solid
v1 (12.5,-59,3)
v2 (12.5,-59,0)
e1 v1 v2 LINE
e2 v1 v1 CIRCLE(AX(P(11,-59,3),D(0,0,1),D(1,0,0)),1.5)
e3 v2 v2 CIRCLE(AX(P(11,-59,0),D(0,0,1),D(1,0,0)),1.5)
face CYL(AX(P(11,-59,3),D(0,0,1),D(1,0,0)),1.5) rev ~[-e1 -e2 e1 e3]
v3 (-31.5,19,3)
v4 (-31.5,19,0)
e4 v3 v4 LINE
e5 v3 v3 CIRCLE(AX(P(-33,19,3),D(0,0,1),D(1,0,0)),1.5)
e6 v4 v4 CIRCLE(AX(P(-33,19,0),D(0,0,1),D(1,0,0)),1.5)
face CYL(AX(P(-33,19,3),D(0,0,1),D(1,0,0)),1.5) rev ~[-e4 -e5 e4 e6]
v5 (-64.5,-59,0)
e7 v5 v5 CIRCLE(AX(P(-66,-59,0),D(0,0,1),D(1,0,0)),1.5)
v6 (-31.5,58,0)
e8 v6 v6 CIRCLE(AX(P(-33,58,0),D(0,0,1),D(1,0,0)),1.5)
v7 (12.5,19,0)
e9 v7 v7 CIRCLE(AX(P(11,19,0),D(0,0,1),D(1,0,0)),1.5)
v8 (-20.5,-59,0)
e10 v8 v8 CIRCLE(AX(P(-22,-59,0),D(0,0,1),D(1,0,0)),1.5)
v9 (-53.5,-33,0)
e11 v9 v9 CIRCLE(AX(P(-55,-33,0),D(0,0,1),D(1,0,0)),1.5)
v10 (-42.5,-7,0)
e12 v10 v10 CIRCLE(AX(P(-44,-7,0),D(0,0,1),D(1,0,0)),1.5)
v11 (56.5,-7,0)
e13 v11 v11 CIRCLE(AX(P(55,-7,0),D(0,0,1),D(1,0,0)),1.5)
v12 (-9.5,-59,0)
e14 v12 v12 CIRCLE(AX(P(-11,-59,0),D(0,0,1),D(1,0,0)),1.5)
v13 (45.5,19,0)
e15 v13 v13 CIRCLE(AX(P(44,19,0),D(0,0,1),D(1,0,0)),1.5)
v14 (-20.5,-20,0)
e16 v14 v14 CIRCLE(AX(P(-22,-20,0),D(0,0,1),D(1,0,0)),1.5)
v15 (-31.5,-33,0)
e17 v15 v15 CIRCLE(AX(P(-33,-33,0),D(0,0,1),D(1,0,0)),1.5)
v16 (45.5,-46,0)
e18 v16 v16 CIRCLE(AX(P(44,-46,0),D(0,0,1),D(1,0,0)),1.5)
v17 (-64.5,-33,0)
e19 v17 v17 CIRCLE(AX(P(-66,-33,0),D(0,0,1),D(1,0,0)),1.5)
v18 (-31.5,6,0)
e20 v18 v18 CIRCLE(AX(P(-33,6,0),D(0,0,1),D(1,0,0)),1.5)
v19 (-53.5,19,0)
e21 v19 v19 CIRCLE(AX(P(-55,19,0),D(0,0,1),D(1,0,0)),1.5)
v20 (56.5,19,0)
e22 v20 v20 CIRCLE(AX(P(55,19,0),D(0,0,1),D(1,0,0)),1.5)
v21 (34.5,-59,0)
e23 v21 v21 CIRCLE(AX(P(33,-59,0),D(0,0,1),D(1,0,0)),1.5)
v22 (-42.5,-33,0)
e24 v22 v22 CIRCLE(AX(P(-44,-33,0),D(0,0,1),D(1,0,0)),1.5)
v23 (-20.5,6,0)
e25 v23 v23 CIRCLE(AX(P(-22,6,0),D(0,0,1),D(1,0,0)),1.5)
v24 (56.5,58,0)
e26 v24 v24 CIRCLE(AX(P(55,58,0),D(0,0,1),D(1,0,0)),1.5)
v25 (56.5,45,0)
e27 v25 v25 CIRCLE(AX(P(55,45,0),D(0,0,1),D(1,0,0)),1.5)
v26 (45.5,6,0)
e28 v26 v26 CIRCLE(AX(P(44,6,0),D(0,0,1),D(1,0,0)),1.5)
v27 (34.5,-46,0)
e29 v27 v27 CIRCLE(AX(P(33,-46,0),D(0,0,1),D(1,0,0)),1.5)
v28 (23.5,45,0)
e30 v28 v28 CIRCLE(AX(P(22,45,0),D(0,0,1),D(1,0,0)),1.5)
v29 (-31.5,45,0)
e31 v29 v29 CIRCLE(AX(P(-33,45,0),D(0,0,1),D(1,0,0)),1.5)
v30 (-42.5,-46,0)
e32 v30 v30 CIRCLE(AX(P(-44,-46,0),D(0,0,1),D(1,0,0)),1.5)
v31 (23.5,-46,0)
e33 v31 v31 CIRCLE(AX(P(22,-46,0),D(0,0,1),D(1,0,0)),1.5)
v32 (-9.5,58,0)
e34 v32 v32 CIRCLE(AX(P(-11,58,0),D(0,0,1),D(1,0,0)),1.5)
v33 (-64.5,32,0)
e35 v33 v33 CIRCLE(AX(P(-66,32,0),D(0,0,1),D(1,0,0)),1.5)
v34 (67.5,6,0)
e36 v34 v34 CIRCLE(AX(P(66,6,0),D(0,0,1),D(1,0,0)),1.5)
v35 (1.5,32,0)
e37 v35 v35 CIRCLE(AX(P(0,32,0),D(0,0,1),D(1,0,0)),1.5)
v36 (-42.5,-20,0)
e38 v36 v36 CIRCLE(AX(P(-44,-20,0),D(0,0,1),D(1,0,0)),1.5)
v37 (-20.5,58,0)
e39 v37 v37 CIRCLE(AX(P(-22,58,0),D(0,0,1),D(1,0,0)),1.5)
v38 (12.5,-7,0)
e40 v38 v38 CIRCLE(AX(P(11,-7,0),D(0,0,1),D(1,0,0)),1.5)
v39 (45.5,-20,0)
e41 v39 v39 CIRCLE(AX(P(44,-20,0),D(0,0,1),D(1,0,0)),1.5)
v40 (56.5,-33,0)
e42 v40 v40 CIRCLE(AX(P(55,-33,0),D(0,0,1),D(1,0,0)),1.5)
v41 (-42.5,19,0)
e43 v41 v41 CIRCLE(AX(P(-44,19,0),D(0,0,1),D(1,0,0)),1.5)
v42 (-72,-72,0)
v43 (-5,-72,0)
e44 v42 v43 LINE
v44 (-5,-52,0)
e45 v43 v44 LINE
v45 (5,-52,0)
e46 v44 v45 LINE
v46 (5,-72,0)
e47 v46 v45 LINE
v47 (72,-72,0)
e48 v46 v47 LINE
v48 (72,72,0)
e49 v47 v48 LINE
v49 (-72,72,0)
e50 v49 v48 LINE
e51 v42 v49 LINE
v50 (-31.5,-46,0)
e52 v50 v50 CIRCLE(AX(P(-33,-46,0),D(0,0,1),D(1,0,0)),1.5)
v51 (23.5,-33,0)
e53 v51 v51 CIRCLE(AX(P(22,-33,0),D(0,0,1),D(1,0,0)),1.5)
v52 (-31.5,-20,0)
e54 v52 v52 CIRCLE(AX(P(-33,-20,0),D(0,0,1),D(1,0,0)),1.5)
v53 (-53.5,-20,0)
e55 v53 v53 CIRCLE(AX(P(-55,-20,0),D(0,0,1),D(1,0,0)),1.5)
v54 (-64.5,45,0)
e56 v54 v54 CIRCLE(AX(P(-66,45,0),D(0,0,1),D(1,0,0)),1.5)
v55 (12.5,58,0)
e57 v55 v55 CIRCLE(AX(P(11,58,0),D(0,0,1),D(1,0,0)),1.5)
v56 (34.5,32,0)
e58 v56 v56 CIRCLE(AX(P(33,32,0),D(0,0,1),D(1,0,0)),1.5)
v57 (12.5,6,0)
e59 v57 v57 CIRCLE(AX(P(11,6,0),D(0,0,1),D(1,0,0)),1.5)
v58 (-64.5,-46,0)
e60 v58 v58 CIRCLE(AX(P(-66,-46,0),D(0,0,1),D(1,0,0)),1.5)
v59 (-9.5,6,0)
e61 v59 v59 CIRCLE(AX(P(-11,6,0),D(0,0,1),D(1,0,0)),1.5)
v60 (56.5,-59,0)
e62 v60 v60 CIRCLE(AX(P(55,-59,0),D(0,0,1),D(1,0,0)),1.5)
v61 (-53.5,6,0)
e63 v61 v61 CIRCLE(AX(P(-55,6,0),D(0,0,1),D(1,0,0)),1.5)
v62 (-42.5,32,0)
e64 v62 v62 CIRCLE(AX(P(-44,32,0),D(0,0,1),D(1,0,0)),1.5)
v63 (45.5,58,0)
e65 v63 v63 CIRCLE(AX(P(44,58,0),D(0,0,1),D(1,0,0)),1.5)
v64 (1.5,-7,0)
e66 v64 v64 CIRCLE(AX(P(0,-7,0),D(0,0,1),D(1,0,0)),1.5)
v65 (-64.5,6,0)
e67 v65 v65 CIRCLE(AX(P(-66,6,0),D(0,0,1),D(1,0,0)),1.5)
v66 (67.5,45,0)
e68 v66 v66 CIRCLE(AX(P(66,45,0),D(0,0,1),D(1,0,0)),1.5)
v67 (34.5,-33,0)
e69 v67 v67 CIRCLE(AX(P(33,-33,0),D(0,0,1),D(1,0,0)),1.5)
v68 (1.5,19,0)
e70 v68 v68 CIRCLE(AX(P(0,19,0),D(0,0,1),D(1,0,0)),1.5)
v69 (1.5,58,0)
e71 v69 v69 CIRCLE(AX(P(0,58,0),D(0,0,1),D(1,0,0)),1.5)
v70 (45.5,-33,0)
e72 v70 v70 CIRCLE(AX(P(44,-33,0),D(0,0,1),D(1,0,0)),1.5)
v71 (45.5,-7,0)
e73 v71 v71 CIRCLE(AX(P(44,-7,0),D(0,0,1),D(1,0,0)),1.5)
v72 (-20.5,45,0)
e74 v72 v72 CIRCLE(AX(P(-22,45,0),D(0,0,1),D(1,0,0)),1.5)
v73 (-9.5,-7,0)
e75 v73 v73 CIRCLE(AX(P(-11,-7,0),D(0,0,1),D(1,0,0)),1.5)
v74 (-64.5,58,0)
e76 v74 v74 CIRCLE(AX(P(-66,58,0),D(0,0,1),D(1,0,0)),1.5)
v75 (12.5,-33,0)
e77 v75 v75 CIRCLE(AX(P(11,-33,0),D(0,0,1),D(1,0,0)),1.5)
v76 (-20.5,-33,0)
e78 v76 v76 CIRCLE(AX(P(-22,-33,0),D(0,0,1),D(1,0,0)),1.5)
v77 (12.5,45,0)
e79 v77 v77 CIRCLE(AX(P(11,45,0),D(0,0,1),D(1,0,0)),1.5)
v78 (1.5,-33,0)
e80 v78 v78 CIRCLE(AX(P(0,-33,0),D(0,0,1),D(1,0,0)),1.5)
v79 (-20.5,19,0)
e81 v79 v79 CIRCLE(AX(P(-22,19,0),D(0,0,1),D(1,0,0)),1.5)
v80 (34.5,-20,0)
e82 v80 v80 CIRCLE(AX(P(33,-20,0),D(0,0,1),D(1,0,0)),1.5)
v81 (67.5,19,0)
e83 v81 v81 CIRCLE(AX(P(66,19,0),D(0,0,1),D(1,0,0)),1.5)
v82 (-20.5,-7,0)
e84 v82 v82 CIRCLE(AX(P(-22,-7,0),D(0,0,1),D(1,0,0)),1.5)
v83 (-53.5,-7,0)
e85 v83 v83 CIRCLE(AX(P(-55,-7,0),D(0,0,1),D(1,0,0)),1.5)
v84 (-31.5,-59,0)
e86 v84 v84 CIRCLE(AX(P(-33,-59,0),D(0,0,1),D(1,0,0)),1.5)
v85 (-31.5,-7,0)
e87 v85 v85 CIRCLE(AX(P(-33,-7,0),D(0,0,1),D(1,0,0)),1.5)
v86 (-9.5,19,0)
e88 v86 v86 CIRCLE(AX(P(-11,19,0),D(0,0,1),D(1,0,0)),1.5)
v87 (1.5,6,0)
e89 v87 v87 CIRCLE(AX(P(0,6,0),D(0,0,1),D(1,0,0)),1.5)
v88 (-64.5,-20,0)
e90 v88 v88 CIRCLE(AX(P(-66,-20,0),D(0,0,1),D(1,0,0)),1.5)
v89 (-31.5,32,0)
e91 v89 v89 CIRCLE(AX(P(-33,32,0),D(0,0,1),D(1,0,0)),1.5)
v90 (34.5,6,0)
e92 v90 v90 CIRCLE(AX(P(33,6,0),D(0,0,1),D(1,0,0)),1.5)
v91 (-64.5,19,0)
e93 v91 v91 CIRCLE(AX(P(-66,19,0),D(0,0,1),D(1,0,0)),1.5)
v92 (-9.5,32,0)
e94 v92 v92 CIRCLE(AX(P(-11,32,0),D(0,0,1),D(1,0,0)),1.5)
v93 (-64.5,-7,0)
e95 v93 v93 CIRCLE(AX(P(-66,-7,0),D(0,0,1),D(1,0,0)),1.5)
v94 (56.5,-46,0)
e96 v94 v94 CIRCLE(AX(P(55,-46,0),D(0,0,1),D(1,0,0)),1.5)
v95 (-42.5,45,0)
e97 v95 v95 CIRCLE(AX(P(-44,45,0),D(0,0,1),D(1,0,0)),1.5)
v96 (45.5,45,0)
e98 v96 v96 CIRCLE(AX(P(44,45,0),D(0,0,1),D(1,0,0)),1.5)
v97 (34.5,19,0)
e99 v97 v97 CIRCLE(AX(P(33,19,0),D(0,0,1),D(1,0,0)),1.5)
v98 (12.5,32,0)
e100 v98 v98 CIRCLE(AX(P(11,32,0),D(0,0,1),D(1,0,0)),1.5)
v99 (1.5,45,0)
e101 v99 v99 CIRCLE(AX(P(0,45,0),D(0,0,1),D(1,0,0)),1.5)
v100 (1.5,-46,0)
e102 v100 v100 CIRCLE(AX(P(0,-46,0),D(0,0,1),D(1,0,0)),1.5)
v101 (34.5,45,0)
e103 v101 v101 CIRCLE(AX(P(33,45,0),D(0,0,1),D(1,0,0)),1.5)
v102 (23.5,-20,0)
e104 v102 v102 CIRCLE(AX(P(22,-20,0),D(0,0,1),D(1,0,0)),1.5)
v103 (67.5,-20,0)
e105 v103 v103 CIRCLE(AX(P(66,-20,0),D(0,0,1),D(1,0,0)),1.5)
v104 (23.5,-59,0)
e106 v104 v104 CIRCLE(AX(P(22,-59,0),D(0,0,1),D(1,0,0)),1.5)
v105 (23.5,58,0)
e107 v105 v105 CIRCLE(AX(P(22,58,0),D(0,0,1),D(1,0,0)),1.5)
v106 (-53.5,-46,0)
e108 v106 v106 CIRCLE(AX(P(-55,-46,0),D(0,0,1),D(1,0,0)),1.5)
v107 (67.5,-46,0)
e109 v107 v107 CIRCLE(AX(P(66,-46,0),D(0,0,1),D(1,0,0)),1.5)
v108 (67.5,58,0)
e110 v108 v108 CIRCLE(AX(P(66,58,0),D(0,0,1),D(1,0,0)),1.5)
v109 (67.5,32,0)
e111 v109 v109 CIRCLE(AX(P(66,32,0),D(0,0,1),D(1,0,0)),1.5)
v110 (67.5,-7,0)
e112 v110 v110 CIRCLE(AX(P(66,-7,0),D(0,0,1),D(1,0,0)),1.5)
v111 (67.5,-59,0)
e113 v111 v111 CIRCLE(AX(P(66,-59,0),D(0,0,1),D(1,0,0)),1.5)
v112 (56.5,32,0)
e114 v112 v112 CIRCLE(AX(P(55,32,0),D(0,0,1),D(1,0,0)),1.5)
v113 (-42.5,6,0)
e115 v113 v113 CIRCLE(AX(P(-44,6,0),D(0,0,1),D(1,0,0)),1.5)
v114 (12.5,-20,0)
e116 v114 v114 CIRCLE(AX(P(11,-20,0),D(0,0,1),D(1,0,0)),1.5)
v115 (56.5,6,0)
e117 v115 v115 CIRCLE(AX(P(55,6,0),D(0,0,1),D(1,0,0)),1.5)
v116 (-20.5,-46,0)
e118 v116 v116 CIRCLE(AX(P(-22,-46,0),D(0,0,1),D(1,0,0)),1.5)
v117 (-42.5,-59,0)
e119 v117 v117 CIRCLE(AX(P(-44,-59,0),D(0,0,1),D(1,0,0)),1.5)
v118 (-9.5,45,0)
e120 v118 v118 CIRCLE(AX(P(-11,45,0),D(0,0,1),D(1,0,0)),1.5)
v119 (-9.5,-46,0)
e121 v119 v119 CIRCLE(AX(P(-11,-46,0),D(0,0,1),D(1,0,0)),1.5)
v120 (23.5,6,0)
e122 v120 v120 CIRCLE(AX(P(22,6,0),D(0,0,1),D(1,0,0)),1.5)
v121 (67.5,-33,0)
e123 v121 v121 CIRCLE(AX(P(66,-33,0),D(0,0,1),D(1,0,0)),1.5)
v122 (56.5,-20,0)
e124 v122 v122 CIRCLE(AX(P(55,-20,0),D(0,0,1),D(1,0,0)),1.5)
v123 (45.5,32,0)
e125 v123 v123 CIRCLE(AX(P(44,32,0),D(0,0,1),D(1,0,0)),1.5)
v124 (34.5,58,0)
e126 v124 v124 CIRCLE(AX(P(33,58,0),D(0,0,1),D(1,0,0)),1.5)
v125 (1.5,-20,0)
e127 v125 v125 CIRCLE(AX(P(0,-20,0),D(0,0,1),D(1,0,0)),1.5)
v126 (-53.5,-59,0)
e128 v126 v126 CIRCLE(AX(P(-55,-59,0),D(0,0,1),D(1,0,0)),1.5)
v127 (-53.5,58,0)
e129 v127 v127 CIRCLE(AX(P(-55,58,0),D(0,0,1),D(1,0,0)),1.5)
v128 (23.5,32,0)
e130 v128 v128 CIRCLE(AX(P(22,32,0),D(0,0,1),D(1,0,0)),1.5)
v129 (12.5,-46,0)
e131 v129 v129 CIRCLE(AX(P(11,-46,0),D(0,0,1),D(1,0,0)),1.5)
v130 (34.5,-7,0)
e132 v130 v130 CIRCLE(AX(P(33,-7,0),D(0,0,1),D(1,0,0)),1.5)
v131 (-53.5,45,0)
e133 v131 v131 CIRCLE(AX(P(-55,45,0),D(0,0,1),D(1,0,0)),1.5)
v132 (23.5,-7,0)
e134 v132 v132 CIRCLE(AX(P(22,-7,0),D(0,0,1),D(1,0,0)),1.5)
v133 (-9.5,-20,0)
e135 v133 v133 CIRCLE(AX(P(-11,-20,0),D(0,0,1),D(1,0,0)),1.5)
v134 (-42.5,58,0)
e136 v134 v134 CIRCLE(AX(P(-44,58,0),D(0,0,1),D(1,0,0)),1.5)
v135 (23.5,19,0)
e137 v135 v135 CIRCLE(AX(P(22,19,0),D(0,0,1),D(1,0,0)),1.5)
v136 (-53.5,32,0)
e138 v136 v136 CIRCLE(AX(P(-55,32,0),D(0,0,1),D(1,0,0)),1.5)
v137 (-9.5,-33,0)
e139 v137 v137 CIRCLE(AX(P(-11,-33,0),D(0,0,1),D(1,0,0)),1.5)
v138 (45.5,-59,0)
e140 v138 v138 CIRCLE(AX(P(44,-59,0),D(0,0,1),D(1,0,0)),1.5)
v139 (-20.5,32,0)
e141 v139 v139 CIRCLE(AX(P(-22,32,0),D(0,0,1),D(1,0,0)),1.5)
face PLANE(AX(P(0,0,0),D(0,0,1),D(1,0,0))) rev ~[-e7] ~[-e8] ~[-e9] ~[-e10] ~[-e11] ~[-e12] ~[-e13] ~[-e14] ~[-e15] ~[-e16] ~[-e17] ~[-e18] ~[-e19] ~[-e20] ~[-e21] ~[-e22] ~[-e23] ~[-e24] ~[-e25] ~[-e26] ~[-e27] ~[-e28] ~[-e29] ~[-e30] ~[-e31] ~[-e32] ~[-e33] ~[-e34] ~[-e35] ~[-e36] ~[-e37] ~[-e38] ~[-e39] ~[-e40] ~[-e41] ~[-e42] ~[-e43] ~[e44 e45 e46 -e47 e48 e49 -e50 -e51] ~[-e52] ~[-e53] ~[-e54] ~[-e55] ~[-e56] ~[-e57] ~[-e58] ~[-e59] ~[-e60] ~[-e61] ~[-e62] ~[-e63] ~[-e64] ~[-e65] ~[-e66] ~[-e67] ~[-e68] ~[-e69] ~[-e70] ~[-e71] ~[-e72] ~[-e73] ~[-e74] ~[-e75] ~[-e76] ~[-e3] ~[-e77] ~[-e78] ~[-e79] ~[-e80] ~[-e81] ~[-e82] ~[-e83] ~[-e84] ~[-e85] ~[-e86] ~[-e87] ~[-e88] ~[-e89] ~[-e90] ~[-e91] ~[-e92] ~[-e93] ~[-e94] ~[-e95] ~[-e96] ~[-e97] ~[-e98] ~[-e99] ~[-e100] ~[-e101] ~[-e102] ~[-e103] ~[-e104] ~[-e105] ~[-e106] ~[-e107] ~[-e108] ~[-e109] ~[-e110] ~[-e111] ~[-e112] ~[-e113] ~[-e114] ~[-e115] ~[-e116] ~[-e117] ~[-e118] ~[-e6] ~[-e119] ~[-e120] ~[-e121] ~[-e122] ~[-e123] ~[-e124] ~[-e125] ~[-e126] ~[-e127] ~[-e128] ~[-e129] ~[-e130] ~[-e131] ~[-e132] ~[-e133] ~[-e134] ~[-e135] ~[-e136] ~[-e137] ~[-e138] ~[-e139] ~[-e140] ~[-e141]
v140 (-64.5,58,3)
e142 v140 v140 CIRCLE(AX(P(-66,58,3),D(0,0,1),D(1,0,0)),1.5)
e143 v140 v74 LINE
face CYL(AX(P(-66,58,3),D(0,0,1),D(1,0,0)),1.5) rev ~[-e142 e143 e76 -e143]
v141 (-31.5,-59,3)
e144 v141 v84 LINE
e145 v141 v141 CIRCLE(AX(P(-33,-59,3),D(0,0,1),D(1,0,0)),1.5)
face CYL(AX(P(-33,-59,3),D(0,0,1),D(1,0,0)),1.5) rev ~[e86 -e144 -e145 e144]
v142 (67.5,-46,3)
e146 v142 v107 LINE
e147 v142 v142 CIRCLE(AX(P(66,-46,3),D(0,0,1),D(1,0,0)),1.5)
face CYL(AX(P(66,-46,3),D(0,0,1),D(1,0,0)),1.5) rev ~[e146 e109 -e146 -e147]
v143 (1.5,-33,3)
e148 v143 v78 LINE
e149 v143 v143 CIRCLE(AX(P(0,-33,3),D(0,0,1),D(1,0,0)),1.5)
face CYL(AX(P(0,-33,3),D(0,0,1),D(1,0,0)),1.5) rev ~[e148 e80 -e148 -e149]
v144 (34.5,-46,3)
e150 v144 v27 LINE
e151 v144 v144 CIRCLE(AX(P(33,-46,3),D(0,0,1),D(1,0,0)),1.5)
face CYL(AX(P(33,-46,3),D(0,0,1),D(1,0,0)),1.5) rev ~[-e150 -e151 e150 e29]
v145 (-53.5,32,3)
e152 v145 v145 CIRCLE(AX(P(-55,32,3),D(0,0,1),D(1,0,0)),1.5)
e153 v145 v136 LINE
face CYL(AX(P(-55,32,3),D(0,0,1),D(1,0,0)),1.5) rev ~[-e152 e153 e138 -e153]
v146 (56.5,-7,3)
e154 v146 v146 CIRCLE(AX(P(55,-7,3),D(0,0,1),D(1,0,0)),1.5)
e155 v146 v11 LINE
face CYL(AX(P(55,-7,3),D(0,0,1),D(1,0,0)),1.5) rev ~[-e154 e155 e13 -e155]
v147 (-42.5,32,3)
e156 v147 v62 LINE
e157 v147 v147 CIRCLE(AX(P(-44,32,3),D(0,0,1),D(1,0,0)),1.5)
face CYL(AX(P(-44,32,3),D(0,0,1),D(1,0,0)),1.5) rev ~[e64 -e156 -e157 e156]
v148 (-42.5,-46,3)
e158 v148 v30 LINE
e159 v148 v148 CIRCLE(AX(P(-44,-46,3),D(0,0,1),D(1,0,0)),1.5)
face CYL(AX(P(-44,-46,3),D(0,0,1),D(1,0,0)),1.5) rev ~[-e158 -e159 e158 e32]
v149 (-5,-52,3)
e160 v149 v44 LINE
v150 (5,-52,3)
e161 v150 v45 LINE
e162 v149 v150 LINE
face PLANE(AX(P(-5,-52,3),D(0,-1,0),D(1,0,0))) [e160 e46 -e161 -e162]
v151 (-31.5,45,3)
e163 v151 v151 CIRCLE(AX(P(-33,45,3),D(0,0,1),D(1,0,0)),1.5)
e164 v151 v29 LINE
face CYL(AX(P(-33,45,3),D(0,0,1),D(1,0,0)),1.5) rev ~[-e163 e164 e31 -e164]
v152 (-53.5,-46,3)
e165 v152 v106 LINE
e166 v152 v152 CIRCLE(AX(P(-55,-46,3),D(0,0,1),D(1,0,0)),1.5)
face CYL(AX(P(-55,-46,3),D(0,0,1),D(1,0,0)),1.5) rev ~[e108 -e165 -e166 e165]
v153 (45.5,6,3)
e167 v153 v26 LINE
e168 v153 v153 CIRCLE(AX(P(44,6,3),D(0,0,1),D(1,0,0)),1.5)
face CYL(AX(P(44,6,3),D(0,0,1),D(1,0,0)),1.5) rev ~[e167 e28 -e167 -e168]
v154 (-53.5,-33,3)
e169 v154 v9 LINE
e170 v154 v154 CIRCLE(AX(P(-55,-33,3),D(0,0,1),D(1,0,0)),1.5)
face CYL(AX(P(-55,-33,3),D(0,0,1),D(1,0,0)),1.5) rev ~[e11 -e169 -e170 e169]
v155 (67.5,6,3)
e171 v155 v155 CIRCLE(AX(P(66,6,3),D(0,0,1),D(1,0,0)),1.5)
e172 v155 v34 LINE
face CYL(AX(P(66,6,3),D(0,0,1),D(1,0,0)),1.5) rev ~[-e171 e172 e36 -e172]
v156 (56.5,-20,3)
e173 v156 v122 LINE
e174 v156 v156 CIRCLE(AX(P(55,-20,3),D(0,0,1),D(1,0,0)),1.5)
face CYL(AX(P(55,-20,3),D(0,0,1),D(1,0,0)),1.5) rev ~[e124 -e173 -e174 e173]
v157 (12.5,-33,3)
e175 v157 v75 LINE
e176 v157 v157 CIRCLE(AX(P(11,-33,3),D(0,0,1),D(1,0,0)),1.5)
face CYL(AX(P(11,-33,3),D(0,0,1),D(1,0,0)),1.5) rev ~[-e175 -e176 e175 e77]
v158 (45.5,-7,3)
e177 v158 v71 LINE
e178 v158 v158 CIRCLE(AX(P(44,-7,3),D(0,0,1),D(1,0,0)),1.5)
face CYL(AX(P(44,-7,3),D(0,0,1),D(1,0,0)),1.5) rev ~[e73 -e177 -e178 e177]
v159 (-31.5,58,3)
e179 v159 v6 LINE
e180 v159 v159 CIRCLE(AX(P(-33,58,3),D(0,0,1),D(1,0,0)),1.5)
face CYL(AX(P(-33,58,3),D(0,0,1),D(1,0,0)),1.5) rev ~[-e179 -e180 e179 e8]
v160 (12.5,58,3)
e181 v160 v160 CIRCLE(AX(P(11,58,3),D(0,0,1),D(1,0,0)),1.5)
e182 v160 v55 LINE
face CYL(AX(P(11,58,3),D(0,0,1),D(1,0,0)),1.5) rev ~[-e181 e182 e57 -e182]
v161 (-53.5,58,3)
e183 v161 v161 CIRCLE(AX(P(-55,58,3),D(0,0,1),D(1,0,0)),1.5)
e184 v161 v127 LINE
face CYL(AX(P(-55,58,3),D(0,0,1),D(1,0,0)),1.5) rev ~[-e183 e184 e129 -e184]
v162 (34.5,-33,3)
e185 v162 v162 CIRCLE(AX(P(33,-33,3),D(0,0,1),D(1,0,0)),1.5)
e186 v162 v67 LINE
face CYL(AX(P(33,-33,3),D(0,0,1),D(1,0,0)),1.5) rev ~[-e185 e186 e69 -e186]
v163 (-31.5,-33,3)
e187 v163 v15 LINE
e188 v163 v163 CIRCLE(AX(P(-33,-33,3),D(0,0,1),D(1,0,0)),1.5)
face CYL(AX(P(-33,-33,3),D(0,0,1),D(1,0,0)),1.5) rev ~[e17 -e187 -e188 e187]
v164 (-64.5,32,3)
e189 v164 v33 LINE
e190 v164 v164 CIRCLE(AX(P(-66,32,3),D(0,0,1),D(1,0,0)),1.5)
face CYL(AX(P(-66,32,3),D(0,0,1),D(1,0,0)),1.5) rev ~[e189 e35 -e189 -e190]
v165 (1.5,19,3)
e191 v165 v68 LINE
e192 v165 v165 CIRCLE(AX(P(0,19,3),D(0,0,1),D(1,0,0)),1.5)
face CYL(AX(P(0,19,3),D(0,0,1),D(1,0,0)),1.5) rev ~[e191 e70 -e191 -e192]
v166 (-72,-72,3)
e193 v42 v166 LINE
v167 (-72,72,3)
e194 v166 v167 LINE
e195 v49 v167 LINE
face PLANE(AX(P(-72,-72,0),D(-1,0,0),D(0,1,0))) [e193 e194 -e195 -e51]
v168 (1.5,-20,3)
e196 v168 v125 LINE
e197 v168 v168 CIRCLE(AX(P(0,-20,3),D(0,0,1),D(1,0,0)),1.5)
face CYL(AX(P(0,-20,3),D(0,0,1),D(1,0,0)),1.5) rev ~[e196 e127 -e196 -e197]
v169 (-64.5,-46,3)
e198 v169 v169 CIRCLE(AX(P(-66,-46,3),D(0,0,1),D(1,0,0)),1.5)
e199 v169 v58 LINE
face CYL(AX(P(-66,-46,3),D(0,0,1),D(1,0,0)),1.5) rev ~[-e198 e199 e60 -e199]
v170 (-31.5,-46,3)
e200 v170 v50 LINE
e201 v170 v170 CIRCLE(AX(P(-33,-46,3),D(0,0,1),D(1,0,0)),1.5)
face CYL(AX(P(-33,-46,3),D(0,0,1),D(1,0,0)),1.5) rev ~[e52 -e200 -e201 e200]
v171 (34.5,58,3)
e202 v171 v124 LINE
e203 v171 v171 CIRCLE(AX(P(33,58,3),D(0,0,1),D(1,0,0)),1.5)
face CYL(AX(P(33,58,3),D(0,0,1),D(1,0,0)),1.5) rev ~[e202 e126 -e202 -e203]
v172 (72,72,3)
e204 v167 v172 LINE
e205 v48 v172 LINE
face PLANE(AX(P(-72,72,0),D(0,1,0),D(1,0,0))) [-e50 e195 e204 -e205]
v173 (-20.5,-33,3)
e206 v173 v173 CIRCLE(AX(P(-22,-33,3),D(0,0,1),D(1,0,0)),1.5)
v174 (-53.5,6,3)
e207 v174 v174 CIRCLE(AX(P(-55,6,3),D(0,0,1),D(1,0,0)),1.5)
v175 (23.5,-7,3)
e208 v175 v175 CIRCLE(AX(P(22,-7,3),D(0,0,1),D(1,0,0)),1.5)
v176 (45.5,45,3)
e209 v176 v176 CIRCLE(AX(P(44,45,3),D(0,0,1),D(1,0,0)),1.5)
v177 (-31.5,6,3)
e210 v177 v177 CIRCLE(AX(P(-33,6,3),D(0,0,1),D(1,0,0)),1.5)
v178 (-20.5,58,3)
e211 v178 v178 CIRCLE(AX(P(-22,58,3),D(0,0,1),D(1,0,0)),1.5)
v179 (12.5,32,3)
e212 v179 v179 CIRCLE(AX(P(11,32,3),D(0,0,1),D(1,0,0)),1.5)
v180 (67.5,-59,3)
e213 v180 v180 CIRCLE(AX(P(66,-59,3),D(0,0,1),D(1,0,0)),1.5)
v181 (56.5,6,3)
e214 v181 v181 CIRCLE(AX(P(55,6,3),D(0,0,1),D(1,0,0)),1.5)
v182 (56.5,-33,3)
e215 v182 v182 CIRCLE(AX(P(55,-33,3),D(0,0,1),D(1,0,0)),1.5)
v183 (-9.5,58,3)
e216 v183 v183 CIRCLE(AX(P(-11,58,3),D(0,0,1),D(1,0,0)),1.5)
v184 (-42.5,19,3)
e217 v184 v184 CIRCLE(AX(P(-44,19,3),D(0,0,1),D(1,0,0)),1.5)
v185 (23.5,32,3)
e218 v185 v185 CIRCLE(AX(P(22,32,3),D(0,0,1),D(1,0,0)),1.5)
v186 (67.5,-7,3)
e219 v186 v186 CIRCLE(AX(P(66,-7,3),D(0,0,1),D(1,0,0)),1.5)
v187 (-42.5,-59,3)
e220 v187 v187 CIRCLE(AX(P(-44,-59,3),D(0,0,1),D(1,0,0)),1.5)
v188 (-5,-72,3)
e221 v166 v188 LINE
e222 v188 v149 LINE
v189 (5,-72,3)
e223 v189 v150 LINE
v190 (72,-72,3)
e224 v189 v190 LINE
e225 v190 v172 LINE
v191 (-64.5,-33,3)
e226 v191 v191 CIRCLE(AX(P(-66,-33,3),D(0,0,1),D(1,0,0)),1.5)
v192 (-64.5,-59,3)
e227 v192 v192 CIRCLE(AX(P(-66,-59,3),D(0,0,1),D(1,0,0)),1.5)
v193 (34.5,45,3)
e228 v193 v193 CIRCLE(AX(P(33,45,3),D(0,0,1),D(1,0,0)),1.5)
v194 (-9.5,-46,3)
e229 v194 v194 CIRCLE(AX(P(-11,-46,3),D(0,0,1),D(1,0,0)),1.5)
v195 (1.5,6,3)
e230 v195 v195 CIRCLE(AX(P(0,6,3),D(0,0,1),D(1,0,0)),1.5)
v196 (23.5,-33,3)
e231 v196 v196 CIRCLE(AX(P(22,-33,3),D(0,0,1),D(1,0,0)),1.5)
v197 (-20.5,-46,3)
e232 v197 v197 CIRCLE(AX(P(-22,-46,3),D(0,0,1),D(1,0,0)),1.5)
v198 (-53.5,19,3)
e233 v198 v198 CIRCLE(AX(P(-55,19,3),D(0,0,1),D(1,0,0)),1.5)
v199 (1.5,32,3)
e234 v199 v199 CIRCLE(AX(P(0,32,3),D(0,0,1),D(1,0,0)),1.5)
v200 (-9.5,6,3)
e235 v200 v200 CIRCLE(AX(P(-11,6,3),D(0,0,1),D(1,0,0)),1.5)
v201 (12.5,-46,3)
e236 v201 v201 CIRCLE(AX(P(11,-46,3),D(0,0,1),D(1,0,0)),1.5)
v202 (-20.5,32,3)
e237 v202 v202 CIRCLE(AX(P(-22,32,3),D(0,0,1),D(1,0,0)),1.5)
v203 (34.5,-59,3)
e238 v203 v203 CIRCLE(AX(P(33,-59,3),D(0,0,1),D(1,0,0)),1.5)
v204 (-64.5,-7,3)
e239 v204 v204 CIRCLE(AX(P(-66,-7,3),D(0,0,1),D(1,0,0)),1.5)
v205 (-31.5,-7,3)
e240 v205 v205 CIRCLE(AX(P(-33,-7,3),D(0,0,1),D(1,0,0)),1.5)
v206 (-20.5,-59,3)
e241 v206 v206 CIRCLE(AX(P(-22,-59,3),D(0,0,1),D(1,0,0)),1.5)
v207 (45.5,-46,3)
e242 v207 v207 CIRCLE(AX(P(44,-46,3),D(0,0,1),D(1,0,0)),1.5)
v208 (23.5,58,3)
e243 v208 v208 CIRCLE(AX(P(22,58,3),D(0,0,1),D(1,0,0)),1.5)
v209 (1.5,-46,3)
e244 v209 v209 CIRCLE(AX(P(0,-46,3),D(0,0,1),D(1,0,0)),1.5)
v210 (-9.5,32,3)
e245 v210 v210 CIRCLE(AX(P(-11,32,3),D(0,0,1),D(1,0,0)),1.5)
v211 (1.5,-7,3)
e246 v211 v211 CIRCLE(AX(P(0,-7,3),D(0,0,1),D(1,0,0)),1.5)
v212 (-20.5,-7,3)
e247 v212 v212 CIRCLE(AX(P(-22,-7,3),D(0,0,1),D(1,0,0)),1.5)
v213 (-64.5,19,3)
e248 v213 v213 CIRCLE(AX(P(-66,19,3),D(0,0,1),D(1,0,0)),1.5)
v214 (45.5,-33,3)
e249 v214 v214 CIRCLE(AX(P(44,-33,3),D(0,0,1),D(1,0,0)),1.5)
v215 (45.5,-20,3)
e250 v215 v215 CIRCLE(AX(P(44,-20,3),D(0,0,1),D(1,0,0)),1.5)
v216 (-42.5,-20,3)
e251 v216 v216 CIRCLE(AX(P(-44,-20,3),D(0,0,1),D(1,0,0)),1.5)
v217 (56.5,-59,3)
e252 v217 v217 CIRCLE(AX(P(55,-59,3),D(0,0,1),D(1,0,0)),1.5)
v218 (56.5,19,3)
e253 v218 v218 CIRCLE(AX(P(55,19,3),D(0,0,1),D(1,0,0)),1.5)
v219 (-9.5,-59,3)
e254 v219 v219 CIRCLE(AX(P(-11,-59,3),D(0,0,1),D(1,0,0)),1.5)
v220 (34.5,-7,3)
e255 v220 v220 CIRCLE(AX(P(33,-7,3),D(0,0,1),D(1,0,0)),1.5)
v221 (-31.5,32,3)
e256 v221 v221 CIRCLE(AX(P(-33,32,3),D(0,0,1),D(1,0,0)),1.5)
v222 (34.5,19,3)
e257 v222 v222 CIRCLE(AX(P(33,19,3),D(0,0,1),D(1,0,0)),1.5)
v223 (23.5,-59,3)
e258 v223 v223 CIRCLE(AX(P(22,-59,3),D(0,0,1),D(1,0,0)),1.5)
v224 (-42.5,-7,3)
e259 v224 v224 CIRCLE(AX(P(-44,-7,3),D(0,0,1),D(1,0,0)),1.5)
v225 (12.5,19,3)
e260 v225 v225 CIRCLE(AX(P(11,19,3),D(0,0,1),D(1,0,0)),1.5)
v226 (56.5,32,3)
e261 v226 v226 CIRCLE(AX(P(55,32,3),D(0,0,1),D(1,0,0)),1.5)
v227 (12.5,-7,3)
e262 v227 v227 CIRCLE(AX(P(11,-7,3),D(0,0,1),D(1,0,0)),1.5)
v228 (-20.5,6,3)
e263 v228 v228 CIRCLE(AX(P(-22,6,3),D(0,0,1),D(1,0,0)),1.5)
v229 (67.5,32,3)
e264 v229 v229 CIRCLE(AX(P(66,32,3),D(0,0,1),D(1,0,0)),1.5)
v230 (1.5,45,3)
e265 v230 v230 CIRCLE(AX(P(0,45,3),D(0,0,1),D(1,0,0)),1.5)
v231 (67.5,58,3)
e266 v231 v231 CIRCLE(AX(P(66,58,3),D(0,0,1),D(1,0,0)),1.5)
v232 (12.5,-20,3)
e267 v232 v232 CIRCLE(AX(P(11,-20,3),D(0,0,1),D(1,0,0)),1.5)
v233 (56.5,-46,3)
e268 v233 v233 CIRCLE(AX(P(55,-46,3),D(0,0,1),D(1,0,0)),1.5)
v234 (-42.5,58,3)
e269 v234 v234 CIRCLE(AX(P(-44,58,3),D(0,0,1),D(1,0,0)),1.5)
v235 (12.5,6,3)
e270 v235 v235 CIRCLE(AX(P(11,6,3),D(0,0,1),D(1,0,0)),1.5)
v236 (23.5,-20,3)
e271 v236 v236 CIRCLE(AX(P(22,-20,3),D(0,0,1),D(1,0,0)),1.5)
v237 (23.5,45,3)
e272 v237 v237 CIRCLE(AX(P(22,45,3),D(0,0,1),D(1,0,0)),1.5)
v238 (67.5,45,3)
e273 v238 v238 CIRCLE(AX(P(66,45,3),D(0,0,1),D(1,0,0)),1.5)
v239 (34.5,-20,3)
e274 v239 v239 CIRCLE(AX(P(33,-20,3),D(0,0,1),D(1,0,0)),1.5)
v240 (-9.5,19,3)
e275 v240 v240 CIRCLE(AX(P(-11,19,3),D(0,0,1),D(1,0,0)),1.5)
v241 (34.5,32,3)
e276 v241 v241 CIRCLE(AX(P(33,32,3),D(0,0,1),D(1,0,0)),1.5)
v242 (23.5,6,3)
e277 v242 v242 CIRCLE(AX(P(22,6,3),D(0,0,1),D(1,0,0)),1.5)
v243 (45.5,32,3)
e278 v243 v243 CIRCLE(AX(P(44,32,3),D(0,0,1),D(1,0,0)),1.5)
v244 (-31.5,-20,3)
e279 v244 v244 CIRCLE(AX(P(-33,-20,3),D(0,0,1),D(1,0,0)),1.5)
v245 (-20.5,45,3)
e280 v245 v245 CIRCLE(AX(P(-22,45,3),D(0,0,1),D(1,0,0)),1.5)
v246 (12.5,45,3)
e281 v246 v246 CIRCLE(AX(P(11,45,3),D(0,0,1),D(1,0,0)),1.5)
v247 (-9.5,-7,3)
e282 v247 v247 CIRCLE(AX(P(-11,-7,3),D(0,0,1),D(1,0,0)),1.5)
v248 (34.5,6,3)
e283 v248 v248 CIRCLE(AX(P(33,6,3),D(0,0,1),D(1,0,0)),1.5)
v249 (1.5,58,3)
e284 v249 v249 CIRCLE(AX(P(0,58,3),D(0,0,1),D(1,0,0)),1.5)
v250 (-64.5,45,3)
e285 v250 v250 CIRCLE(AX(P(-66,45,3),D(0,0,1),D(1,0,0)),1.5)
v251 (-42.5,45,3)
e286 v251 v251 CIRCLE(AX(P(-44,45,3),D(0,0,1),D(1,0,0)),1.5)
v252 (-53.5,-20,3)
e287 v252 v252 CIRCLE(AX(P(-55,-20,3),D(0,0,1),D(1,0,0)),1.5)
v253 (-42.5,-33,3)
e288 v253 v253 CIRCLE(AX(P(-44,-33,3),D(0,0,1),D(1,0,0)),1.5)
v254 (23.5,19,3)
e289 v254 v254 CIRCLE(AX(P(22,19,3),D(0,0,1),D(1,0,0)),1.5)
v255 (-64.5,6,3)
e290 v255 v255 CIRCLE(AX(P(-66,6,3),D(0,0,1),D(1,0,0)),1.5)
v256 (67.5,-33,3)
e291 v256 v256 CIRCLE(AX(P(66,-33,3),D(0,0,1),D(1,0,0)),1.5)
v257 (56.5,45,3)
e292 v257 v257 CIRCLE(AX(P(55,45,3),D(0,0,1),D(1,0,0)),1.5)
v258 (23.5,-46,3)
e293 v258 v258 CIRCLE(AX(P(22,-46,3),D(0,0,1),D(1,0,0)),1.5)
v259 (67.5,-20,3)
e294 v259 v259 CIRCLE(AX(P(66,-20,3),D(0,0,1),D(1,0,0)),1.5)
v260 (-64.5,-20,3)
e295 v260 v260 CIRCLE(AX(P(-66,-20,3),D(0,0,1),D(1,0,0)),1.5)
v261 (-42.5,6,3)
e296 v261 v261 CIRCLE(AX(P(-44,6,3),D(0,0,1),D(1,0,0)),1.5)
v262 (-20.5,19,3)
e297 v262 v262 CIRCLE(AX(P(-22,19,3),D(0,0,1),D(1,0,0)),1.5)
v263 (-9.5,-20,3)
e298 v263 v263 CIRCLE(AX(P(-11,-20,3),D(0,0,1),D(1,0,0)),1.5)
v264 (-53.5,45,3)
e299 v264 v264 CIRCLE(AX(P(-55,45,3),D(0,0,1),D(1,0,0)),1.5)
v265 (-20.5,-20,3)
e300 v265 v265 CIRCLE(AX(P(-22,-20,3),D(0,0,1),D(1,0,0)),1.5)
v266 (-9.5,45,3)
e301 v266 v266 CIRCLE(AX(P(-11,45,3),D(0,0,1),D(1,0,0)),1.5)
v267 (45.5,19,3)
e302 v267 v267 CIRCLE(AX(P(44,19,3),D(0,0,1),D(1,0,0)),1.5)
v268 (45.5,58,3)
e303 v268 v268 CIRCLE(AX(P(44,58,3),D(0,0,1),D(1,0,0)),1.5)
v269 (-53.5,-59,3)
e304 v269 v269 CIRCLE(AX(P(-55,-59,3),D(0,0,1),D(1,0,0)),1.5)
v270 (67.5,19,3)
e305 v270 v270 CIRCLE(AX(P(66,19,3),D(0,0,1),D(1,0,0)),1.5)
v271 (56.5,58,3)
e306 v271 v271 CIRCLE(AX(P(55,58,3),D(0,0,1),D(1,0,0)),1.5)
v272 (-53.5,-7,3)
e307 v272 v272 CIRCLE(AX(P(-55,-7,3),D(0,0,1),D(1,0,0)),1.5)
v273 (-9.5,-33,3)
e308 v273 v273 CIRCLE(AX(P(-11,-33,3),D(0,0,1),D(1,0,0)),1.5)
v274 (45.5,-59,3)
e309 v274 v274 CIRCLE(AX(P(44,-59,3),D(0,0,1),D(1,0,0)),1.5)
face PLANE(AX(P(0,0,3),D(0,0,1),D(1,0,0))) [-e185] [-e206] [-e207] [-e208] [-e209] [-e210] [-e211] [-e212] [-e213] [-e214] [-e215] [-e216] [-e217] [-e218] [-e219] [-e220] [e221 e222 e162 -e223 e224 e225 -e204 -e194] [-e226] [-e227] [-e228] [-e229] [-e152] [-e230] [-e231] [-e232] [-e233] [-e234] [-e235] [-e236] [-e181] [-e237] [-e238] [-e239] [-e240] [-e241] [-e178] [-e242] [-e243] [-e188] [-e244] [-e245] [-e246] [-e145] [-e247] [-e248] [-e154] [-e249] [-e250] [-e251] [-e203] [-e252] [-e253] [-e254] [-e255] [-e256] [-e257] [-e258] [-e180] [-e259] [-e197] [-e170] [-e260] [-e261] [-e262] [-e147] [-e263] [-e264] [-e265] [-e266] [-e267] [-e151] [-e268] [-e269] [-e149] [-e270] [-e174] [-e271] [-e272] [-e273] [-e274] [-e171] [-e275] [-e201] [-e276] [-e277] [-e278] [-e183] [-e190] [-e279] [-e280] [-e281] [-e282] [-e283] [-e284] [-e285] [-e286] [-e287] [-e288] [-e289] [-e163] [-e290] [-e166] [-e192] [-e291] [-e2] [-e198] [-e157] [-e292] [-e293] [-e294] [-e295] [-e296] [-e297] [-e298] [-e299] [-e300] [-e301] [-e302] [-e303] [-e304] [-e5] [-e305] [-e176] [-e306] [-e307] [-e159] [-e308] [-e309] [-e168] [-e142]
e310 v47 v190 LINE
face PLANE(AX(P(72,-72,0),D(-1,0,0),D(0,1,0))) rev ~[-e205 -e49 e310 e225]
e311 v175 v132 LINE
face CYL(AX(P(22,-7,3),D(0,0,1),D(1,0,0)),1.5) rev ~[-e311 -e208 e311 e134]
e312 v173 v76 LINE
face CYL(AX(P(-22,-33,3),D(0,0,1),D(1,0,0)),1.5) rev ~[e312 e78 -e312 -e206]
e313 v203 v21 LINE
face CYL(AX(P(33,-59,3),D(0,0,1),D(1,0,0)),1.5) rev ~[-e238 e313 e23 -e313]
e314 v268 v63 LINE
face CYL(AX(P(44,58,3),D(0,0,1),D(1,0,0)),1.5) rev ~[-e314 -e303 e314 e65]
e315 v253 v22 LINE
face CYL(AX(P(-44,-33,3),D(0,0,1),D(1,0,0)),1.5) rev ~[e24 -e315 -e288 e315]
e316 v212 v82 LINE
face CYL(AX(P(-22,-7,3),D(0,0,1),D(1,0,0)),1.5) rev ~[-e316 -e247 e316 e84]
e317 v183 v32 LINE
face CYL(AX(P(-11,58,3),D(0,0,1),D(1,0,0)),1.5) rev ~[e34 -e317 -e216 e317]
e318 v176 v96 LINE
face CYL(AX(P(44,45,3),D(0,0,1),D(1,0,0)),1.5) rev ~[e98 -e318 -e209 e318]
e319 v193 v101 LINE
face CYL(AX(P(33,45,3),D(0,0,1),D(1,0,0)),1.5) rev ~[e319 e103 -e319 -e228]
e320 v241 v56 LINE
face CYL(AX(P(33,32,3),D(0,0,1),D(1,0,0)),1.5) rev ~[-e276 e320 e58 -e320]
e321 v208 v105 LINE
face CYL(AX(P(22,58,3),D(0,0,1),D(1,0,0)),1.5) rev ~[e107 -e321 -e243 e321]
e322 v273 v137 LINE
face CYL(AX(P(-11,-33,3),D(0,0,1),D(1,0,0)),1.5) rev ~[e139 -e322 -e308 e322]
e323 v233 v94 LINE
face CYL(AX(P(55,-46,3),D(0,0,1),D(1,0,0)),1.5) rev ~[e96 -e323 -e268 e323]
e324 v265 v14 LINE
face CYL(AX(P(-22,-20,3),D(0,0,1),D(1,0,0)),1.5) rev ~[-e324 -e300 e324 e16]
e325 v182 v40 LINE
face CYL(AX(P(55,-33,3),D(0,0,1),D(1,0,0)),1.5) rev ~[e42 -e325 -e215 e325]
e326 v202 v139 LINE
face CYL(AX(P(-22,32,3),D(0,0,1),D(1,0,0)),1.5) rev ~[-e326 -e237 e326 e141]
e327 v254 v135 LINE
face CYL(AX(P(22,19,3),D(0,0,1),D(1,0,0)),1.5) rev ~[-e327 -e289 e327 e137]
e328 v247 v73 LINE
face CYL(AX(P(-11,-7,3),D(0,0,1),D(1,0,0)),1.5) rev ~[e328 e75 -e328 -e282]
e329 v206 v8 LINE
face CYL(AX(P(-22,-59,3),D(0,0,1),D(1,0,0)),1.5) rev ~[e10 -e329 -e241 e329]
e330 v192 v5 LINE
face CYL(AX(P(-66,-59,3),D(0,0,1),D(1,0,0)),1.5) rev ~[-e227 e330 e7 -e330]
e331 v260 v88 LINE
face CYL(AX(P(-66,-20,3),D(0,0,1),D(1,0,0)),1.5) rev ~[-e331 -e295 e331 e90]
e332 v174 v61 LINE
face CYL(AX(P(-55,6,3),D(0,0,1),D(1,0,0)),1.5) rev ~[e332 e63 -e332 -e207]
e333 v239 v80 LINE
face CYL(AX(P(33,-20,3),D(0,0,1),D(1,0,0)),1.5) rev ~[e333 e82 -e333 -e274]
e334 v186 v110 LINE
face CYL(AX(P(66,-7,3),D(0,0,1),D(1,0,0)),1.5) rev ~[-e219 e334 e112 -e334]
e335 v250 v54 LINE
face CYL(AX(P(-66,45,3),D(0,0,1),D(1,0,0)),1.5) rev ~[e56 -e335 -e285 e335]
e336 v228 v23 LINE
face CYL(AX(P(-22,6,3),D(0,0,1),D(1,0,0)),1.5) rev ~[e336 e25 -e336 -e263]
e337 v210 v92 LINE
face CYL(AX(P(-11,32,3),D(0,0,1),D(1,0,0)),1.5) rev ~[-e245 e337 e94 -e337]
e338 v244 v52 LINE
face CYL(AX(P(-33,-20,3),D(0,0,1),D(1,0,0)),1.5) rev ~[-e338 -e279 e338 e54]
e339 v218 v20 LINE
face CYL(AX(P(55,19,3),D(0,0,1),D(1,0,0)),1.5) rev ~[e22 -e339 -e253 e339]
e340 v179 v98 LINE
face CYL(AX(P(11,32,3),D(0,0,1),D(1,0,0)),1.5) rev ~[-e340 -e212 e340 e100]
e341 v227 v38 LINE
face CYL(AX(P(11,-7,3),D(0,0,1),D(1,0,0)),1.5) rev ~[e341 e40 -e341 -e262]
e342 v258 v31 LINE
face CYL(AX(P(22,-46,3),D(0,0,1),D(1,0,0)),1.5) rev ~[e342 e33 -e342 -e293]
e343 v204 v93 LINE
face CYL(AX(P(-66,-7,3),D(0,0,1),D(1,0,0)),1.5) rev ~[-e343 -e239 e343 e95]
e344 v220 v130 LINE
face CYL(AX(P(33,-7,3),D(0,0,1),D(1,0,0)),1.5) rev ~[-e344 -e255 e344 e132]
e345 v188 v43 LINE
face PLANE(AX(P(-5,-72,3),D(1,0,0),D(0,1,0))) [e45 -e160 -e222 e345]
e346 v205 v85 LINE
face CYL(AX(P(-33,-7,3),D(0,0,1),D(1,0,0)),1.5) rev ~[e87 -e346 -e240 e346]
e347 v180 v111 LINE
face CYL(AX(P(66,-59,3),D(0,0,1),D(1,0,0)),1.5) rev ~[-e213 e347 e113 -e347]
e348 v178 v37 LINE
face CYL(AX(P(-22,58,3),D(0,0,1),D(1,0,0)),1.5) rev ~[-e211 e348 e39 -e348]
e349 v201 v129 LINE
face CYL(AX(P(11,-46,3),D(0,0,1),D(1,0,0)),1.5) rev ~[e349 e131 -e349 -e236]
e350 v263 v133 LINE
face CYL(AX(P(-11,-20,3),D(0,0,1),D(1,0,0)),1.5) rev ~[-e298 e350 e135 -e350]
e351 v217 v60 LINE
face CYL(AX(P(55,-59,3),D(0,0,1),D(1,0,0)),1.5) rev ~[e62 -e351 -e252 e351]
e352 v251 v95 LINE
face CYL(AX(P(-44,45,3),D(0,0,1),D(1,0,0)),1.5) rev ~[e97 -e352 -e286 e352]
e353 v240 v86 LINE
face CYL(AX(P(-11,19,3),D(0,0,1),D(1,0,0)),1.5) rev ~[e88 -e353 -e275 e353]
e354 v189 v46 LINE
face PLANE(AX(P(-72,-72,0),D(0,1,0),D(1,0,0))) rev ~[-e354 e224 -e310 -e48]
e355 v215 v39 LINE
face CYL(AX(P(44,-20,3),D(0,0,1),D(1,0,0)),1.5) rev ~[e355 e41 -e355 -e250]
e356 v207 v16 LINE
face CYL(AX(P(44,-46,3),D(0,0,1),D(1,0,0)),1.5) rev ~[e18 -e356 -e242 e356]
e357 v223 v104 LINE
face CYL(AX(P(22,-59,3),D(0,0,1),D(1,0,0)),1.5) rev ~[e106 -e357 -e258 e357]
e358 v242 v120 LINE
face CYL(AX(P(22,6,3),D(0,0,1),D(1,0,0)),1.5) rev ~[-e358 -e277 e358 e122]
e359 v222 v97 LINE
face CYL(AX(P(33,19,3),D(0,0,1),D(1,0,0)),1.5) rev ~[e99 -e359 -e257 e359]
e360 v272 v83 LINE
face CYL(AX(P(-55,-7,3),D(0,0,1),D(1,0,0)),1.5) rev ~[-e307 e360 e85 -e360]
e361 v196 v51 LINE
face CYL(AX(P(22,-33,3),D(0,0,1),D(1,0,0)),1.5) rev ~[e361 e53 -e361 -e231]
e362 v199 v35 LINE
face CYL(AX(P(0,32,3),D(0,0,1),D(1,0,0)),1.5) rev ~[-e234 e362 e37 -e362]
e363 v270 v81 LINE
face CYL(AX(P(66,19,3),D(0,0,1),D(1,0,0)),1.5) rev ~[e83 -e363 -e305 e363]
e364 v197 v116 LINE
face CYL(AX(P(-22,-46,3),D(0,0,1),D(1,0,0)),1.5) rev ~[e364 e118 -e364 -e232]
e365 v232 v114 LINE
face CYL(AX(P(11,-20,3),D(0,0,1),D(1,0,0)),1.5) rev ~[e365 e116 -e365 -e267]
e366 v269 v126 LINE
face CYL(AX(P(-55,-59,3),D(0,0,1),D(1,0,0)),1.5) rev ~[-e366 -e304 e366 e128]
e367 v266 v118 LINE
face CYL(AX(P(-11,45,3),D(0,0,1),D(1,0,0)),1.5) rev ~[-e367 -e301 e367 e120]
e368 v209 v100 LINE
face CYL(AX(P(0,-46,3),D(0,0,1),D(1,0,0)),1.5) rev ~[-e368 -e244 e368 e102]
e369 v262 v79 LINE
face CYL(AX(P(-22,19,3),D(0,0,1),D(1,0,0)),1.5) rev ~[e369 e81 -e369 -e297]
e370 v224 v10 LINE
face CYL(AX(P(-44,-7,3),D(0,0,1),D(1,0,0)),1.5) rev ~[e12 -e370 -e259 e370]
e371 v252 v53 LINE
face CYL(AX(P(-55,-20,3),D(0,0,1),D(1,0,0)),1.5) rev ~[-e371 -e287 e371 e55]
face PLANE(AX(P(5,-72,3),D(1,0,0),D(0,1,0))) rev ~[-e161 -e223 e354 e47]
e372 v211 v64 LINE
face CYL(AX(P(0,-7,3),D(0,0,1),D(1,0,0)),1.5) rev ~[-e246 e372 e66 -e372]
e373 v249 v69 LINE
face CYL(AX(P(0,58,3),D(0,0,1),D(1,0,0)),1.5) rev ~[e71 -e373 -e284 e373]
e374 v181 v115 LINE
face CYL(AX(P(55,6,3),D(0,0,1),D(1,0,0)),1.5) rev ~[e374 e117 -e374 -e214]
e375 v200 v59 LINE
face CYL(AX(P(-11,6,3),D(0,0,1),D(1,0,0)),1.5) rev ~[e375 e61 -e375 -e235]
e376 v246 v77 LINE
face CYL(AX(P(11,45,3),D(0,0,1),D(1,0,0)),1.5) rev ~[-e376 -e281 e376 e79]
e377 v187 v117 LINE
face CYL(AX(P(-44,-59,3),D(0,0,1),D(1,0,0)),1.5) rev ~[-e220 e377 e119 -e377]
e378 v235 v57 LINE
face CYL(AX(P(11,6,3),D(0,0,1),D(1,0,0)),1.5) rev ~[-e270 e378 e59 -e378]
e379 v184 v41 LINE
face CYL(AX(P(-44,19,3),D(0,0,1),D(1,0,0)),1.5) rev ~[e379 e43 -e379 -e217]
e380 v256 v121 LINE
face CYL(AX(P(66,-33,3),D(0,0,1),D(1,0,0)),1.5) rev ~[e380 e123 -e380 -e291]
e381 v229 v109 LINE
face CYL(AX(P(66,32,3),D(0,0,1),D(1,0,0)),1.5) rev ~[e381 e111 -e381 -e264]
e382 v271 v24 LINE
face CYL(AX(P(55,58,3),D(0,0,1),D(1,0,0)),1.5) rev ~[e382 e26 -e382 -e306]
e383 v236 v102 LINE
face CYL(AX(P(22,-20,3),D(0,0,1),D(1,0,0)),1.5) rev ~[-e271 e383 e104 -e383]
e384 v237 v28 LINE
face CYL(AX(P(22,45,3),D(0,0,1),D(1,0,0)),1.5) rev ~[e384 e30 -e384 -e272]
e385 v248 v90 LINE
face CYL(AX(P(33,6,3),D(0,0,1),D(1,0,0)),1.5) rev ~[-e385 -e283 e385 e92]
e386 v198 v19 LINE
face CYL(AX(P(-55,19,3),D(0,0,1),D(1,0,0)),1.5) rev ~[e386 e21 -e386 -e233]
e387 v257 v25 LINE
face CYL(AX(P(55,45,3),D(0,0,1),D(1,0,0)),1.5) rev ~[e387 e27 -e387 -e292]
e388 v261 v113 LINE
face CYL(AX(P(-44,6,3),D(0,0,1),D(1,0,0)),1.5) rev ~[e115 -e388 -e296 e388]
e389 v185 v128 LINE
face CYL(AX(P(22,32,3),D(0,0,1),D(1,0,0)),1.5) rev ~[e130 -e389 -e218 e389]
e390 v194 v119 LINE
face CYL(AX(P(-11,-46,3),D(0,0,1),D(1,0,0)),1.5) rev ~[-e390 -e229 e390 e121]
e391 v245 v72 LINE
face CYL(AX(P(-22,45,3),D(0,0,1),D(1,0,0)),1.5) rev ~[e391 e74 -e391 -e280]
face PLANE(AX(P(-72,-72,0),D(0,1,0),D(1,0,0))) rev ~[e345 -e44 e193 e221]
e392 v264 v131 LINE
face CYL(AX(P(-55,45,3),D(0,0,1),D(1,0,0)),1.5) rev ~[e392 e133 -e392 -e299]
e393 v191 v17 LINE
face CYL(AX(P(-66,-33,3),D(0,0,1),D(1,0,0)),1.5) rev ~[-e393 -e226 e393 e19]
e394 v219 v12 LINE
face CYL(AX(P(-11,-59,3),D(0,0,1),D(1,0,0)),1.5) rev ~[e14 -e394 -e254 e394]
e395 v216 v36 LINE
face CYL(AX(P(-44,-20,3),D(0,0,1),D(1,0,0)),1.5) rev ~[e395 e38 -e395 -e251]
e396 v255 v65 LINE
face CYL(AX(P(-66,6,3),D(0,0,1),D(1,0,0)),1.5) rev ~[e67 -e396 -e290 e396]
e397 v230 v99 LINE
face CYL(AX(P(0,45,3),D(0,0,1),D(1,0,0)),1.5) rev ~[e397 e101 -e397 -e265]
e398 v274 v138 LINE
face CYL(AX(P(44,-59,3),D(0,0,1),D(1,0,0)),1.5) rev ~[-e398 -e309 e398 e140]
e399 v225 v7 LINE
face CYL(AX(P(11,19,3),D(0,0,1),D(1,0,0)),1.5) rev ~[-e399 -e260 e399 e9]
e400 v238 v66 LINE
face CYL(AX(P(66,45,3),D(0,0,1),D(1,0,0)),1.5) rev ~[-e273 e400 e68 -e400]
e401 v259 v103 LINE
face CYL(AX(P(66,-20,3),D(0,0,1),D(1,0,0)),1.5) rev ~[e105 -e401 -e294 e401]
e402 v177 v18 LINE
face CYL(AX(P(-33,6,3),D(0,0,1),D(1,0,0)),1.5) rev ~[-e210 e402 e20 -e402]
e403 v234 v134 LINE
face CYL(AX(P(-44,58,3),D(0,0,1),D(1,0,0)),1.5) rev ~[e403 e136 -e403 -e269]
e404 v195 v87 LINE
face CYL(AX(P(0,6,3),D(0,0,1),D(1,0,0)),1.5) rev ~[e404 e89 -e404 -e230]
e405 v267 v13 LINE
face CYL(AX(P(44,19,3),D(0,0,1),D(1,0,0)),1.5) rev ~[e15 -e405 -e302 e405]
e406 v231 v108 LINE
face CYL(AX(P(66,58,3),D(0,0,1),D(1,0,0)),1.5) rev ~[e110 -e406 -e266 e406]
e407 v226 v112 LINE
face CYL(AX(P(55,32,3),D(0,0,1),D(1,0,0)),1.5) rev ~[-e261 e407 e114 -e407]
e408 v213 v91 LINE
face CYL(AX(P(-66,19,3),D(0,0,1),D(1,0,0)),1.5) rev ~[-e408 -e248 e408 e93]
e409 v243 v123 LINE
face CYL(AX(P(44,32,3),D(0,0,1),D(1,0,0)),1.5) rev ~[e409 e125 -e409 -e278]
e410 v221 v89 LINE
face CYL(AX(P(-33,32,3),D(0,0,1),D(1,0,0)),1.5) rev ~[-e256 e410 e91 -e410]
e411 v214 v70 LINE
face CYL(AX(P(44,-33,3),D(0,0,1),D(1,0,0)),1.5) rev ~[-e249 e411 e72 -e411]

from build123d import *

# Parameters (mm, degrees)
SKETCH_W                         = 144
SKETCH_H                         = 144
PAD_DEPTH                        = 3
SKETCH003_W                      = 10
SKETCH003_H                      = 20
POCKET_DEPTH                     = 3.001
SKETCH004_R                      = 1.5
POCKET002_DEPTH                  = 410.338698
SKETCH004_LINEARPATTERN_2_R      = 1.5
POCKET002_LINEARPATTERN_2_DEPTH  = 410.338698
SKETCH004_LINEARPATTERN_3_R      = 1.5
POCKET002_LINEARPATTERN_3_DEPTH  = 410.338698
SKETCH004_LINEARPATTERN_4_R      = 1.5
POCKET002_LINEARPATTERN_4_DEPTH  = 410.338698
SKETCH004_LINEARPATTERN_5_R      = 1.5
POCKET002_LINEARPATTERN_5_DEPTH  = 410.338698
SKETCH004_LINEARPATTERN_6_R      = 1.5
POCKET002_LINEARPATTERN_6_DEPTH  = 410.338698
SKETCH004_LINEARPATTERN_7_R      = 1.5
POCKET002_LINEARPATTERN_7_DEPTH  = 410.338698
SKETCH004_LINEARPATTERN_8_R      = 1.5
POCKET002_LINEARPATTERN_8_DEPTH  = 410.338698
SKETCH004_LINEARPATTERN_9_R      = 1.5
POCKET002_LINEARPATTERN_9_DEPTH  = 410.338698
SKETCH004_LINEARPATTERN_10_R     = 1.5
POCKET002_LINEARPATTERN_10_DEPTH = 410.338698
SKETCH004_LINEARPATTERN_11_R     = 1.5
POCKET002_LINEARPATTERN_11_DEPTH = 410.338698
SKETCH004_LINEARPATTERN_12_R     = 1.5
POCKET002_LINEARPATTERN_12_DEPTH = 410.338698
SKETCH004_LINEARPATTERN_13_R     = 1.5
POCKET002_LINEARPATTERN_13_DEPTH = 410.338698
LINEARPATTERN001_COUNT           = 10
LINEARPATTERN001_PITCH           = 13


with BuildPart() as part:
    # Sketch → Pad (new body)
    with BuildSketch(Plane.XY):
        Rectangle(SKETCH_W, SKETCH_H)
    extrude(amount=PAD_DEPTH)

    # Sketch003 (on Face6 of Pad) → Pocket (cut, through all)
    with BuildSketch(Plane.XY.offset(3)):
        with Locations((0, -62)):
            Rectangle(SKETCH003_W, SKETCH003_H)
    extrude(amount=-POCKET_DEPTH, mode=Mode.SUBTRACT)

    # Sketch004 → Pocket002 (cut, through all)
    with BuildSketch(Plane.XY.offset(3)):
        with Locations((-66, -59)):
            Circle(SKETCH004_R)
    pocket002 = extrude(amount=-POCKET002_DEPTH, mode=Mode.SUBTRACT)

    # Sketch004 LinearPattern 2 → Pocket002 LinearPattern 2 (cut, through all)
    with BuildSketch(Plane(origin=(11, 0, 3), x_dir=(1, 0, 0), z_dir=(0, 0, 1))):
        with Locations((-66, -59)):
            Circle(SKETCH004_LINEARPATTERN_2_R)
    pocket002_linearpattern_2 = extrude(amount=-POCKET002_LINEARPATTERN_2_DEPTH, mode=Mode.SUBTRACT)

    # Sketch004 LinearPattern 3 → Pocket002 LinearPattern 3 (cut, through all)
    with BuildSketch(Plane(origin=(22, 0, 3), x_dir=(1, 0, 0), z_dir=(0, 0, 1))):
        with Locations((-66, -59)):
            Circle(SKETCH004_LINEARPATTERN_3_R)
    pocket002_linearpattern_3 = extrude(amount=-POCKET002_LINEARPATTERN_3_DEPTH, mode=Mode.SUBTRACT)

    # Sketch004 LinearPattern 4 → Pocket002 LinearPattern 4 (cut, through all)
    with BuildSketch(Plane(origin=(33, 0, 3), x_dir=(1, 0, 0), z_dir=(0, 0, 1))):
        with Locations((-66, -59)):
            Circle(SKETCH004_LINEARPATTERN_4_R)
    pocket002_linearpattern_4 = extrude(amount=-POCKET002_LINEARPATTERN_4_DEPTH, mode=Mode.SUBTRACT)

    # Sketch004 LinearPattern 5 → Pocket002 LinearPattern 5 (cut, through all)
    with BuildSketch(Plane(origin=(44, 0, 3), x_dir=(1, 0, 0), z_dir=(0, 0, 1))):
        with Locations((-66, -59)):
            Circle(SKETCH004_LINEARPATTERN_5_R)
    pocket002_linearpattern_5 = extrude(amount=-POCKET002_LINEARPATTERN_5_DEPTH, mode=Mode.SUBTRACT)

    # Sketch004 LinearPattern 6 → Pocket002 LinearPattern 6 (cut, through all)
    with BuildSketch(Plane(origin=(55, 0, 3), x_dir=(1, 0, 0), z_dir=(0, 0, 1))):
        with Locations((-66, -59)):
            Circle(SKETCH004_LINEARPATTERN_6_R)
    pocket002_linearpattern_6 = extrude(amount=-POCKET002_LINEARPATTERN_6_DEPTH, mode=Mode.SUBTRACT)

    # Sketch004 LinearPattern 7 → Pocket002 LinearPattern 7 (cut, through all)
    with BuildSketch(Plane(origin=(66, 0, 3), x_dir=(1, 0, 0), z_dir=(0, 0, 1))):
        with Locations((-66, -59)):
            Circle(SKETCH004_LINEARPATTERN_7_R)
    pocket002_linearpattern_7 = extrude(amount=-POCKET002_LINEARPATTERN_7_DEPTH, mode=Mode.SUBTRACT)

    # Sketch004 LinearPattern 8 → Pocket002 LinearPattern 8 (cut, through all)
    with BuildSketch(Plane(origin=(77, 0, 3), x_dir=(1, 0, 0), z_dir=(0, 0, 1))):
        with Locations((-66, -59)):
            Circle(SKETCH004_LINEARPATTERN_8_R)
    pocket002_linearpattern_8 = extrude(amount=-POCKET002_LINEARPATTERN_8_DEPTH, mode=Mode.SUBTRACT)

    # Sketch004 LinearPattern 9 → Pocket002 LinearPattern 9 (cut, through all)
    with BuildSketch(Plane(origin=(88, 0, 3), x_dir=(1, 0, 0), z_dir=(0, 0, 1))):
        with Locations((-66, -59)):
            Circle(SKETCH004_LINEARPATTERN_9_R)
    pocket002_linearpattern_9 = extrude(amount=-POCKET002_LINEARPATTERN_9_DEPTH, mode=Mode.SUBTRACT)

    # Sketch004 LinearPattern 10 → Pocket002 LinearPattern 10 (cut, through all)
    with BuildSketch(Plane(origin=(99, 0, 3), x_dir=(1, 0, 0), z_dir=(0, 0, 1))):
        with Locations((-66, -59)):
            Circle(SKETCH004_LINEARPATTERN_10_R)
    pocket002_linearpattern_10 = extrude(amount=-POCKET002_LINEARPATTERN_10_DEPTH, mode=Mode.SUBTRACT)

    # Sketch004 LinearPattern 11 → Pocket002 LinearPattern 11 (cut, through all)
    with BuildSketch(Plane(origin=(110, 0, 3), x_dir=(1, 0, 0), z_dir=(0, 0, 1))):
        with Locations((-66, -59)):
            Circle(SKETCH004_LINEARPATTERN_11_R)
    pocket002_linearpattern_11 = extrude(amount=-POCKET002_LINEARPATTERN_11_DEPTH, mode=Mode.SUBTRACT)

    # Sketch004 LinearPattern 12 → Pocket002 LinearPattern 12 (cut, through all)
    with BuildSketch(Plane(origin=(121, 0, 3), x_dir=(1, 0, 0), z_dir=(0, 0, 1))):
        with Locations((-66, -59)):
            Circle(SKETCH004_LINEARPATTERN_12_R)
    pocket002_linearpattern_12 = extrude(amount=-POCKET002_LINEARPATTERN_12_DEPTH, mode=Mode.SUBTRACT)

    # Sketch004 LinearPattern 13 → Pocket002 LinearPattern 13 (cut, through all)
    with BuildSketch(Plane(origin=(132, 0, 3), x_dir=(1, 0, 0), z_dir=(0, 0, 1))):
        with Locations((-66, -59)):
            Circle(SKETCH004_LINEARPATTERN_13_R)
    pocket002_linearpattern_13 = extrude(amount=-POCKET002_LINEARPATTERN_13_DEPTH, mode=Mode.SUBTRACT)

    # LinearPattern001: Pocket002, Pocket002 LinearPattern 2, Pocket002 LinearPattern 3, Pocket002 LinearPattern 4, Pocket002 LinearPattern 5, Pocket002 LinearPattern 6, Pocket002 LinearPattern 7, Pocket002 LinearPattern 8, Pocket002 LinearPattern 9, Pocket002 LinearPattern 10, Pocket002 LinearPattern 11, Pocket002 LinearPattern 12, Pocket002 LinearPattern 13 ×10
    with Locations(*[(0, i * LINEARPATTERN001_PITCH, 0) for i in range(1, LINEARPATTERN001_COUNT)]):
        add(pocket002, mode=Mode.SUBTRACT)
        add(pocket002_linearpattern_2, mode=Mode.SUBTRACT)
        add(pocket002_linearpattern_3, mode=Mode.SUBTRACT)
        add(pocket002_linearpattern_4, mode=Mode.SUBTRACT)
        add(pocket002_linearpattern_5, mode=Mode.SUBTRACT)
        add(pocket002_linearpattern_6, mode=Mode.SUBTRACT)
        add(pocket002_linearpattern_7, mode=Mode.SUBTRACT)
        add(pocket002_linearpattern_8, mode=Mode.SUBTRACT)
        add(pocket002_linearpattern_9, mode=Mode.SUBTRACT)
        add(pocket002_linearpattern_10, mode=Mode.SUBTRACT)
        add(pocket002_linearpattern_11, mode=Mode.SUBTRACT)
        add(pocket002_linearpattern_12, mode=Mode.SUBTRACT)
        add(pocket002_linearpattern_13, mode=Mode.SUBTRACT)


solid = part.part
